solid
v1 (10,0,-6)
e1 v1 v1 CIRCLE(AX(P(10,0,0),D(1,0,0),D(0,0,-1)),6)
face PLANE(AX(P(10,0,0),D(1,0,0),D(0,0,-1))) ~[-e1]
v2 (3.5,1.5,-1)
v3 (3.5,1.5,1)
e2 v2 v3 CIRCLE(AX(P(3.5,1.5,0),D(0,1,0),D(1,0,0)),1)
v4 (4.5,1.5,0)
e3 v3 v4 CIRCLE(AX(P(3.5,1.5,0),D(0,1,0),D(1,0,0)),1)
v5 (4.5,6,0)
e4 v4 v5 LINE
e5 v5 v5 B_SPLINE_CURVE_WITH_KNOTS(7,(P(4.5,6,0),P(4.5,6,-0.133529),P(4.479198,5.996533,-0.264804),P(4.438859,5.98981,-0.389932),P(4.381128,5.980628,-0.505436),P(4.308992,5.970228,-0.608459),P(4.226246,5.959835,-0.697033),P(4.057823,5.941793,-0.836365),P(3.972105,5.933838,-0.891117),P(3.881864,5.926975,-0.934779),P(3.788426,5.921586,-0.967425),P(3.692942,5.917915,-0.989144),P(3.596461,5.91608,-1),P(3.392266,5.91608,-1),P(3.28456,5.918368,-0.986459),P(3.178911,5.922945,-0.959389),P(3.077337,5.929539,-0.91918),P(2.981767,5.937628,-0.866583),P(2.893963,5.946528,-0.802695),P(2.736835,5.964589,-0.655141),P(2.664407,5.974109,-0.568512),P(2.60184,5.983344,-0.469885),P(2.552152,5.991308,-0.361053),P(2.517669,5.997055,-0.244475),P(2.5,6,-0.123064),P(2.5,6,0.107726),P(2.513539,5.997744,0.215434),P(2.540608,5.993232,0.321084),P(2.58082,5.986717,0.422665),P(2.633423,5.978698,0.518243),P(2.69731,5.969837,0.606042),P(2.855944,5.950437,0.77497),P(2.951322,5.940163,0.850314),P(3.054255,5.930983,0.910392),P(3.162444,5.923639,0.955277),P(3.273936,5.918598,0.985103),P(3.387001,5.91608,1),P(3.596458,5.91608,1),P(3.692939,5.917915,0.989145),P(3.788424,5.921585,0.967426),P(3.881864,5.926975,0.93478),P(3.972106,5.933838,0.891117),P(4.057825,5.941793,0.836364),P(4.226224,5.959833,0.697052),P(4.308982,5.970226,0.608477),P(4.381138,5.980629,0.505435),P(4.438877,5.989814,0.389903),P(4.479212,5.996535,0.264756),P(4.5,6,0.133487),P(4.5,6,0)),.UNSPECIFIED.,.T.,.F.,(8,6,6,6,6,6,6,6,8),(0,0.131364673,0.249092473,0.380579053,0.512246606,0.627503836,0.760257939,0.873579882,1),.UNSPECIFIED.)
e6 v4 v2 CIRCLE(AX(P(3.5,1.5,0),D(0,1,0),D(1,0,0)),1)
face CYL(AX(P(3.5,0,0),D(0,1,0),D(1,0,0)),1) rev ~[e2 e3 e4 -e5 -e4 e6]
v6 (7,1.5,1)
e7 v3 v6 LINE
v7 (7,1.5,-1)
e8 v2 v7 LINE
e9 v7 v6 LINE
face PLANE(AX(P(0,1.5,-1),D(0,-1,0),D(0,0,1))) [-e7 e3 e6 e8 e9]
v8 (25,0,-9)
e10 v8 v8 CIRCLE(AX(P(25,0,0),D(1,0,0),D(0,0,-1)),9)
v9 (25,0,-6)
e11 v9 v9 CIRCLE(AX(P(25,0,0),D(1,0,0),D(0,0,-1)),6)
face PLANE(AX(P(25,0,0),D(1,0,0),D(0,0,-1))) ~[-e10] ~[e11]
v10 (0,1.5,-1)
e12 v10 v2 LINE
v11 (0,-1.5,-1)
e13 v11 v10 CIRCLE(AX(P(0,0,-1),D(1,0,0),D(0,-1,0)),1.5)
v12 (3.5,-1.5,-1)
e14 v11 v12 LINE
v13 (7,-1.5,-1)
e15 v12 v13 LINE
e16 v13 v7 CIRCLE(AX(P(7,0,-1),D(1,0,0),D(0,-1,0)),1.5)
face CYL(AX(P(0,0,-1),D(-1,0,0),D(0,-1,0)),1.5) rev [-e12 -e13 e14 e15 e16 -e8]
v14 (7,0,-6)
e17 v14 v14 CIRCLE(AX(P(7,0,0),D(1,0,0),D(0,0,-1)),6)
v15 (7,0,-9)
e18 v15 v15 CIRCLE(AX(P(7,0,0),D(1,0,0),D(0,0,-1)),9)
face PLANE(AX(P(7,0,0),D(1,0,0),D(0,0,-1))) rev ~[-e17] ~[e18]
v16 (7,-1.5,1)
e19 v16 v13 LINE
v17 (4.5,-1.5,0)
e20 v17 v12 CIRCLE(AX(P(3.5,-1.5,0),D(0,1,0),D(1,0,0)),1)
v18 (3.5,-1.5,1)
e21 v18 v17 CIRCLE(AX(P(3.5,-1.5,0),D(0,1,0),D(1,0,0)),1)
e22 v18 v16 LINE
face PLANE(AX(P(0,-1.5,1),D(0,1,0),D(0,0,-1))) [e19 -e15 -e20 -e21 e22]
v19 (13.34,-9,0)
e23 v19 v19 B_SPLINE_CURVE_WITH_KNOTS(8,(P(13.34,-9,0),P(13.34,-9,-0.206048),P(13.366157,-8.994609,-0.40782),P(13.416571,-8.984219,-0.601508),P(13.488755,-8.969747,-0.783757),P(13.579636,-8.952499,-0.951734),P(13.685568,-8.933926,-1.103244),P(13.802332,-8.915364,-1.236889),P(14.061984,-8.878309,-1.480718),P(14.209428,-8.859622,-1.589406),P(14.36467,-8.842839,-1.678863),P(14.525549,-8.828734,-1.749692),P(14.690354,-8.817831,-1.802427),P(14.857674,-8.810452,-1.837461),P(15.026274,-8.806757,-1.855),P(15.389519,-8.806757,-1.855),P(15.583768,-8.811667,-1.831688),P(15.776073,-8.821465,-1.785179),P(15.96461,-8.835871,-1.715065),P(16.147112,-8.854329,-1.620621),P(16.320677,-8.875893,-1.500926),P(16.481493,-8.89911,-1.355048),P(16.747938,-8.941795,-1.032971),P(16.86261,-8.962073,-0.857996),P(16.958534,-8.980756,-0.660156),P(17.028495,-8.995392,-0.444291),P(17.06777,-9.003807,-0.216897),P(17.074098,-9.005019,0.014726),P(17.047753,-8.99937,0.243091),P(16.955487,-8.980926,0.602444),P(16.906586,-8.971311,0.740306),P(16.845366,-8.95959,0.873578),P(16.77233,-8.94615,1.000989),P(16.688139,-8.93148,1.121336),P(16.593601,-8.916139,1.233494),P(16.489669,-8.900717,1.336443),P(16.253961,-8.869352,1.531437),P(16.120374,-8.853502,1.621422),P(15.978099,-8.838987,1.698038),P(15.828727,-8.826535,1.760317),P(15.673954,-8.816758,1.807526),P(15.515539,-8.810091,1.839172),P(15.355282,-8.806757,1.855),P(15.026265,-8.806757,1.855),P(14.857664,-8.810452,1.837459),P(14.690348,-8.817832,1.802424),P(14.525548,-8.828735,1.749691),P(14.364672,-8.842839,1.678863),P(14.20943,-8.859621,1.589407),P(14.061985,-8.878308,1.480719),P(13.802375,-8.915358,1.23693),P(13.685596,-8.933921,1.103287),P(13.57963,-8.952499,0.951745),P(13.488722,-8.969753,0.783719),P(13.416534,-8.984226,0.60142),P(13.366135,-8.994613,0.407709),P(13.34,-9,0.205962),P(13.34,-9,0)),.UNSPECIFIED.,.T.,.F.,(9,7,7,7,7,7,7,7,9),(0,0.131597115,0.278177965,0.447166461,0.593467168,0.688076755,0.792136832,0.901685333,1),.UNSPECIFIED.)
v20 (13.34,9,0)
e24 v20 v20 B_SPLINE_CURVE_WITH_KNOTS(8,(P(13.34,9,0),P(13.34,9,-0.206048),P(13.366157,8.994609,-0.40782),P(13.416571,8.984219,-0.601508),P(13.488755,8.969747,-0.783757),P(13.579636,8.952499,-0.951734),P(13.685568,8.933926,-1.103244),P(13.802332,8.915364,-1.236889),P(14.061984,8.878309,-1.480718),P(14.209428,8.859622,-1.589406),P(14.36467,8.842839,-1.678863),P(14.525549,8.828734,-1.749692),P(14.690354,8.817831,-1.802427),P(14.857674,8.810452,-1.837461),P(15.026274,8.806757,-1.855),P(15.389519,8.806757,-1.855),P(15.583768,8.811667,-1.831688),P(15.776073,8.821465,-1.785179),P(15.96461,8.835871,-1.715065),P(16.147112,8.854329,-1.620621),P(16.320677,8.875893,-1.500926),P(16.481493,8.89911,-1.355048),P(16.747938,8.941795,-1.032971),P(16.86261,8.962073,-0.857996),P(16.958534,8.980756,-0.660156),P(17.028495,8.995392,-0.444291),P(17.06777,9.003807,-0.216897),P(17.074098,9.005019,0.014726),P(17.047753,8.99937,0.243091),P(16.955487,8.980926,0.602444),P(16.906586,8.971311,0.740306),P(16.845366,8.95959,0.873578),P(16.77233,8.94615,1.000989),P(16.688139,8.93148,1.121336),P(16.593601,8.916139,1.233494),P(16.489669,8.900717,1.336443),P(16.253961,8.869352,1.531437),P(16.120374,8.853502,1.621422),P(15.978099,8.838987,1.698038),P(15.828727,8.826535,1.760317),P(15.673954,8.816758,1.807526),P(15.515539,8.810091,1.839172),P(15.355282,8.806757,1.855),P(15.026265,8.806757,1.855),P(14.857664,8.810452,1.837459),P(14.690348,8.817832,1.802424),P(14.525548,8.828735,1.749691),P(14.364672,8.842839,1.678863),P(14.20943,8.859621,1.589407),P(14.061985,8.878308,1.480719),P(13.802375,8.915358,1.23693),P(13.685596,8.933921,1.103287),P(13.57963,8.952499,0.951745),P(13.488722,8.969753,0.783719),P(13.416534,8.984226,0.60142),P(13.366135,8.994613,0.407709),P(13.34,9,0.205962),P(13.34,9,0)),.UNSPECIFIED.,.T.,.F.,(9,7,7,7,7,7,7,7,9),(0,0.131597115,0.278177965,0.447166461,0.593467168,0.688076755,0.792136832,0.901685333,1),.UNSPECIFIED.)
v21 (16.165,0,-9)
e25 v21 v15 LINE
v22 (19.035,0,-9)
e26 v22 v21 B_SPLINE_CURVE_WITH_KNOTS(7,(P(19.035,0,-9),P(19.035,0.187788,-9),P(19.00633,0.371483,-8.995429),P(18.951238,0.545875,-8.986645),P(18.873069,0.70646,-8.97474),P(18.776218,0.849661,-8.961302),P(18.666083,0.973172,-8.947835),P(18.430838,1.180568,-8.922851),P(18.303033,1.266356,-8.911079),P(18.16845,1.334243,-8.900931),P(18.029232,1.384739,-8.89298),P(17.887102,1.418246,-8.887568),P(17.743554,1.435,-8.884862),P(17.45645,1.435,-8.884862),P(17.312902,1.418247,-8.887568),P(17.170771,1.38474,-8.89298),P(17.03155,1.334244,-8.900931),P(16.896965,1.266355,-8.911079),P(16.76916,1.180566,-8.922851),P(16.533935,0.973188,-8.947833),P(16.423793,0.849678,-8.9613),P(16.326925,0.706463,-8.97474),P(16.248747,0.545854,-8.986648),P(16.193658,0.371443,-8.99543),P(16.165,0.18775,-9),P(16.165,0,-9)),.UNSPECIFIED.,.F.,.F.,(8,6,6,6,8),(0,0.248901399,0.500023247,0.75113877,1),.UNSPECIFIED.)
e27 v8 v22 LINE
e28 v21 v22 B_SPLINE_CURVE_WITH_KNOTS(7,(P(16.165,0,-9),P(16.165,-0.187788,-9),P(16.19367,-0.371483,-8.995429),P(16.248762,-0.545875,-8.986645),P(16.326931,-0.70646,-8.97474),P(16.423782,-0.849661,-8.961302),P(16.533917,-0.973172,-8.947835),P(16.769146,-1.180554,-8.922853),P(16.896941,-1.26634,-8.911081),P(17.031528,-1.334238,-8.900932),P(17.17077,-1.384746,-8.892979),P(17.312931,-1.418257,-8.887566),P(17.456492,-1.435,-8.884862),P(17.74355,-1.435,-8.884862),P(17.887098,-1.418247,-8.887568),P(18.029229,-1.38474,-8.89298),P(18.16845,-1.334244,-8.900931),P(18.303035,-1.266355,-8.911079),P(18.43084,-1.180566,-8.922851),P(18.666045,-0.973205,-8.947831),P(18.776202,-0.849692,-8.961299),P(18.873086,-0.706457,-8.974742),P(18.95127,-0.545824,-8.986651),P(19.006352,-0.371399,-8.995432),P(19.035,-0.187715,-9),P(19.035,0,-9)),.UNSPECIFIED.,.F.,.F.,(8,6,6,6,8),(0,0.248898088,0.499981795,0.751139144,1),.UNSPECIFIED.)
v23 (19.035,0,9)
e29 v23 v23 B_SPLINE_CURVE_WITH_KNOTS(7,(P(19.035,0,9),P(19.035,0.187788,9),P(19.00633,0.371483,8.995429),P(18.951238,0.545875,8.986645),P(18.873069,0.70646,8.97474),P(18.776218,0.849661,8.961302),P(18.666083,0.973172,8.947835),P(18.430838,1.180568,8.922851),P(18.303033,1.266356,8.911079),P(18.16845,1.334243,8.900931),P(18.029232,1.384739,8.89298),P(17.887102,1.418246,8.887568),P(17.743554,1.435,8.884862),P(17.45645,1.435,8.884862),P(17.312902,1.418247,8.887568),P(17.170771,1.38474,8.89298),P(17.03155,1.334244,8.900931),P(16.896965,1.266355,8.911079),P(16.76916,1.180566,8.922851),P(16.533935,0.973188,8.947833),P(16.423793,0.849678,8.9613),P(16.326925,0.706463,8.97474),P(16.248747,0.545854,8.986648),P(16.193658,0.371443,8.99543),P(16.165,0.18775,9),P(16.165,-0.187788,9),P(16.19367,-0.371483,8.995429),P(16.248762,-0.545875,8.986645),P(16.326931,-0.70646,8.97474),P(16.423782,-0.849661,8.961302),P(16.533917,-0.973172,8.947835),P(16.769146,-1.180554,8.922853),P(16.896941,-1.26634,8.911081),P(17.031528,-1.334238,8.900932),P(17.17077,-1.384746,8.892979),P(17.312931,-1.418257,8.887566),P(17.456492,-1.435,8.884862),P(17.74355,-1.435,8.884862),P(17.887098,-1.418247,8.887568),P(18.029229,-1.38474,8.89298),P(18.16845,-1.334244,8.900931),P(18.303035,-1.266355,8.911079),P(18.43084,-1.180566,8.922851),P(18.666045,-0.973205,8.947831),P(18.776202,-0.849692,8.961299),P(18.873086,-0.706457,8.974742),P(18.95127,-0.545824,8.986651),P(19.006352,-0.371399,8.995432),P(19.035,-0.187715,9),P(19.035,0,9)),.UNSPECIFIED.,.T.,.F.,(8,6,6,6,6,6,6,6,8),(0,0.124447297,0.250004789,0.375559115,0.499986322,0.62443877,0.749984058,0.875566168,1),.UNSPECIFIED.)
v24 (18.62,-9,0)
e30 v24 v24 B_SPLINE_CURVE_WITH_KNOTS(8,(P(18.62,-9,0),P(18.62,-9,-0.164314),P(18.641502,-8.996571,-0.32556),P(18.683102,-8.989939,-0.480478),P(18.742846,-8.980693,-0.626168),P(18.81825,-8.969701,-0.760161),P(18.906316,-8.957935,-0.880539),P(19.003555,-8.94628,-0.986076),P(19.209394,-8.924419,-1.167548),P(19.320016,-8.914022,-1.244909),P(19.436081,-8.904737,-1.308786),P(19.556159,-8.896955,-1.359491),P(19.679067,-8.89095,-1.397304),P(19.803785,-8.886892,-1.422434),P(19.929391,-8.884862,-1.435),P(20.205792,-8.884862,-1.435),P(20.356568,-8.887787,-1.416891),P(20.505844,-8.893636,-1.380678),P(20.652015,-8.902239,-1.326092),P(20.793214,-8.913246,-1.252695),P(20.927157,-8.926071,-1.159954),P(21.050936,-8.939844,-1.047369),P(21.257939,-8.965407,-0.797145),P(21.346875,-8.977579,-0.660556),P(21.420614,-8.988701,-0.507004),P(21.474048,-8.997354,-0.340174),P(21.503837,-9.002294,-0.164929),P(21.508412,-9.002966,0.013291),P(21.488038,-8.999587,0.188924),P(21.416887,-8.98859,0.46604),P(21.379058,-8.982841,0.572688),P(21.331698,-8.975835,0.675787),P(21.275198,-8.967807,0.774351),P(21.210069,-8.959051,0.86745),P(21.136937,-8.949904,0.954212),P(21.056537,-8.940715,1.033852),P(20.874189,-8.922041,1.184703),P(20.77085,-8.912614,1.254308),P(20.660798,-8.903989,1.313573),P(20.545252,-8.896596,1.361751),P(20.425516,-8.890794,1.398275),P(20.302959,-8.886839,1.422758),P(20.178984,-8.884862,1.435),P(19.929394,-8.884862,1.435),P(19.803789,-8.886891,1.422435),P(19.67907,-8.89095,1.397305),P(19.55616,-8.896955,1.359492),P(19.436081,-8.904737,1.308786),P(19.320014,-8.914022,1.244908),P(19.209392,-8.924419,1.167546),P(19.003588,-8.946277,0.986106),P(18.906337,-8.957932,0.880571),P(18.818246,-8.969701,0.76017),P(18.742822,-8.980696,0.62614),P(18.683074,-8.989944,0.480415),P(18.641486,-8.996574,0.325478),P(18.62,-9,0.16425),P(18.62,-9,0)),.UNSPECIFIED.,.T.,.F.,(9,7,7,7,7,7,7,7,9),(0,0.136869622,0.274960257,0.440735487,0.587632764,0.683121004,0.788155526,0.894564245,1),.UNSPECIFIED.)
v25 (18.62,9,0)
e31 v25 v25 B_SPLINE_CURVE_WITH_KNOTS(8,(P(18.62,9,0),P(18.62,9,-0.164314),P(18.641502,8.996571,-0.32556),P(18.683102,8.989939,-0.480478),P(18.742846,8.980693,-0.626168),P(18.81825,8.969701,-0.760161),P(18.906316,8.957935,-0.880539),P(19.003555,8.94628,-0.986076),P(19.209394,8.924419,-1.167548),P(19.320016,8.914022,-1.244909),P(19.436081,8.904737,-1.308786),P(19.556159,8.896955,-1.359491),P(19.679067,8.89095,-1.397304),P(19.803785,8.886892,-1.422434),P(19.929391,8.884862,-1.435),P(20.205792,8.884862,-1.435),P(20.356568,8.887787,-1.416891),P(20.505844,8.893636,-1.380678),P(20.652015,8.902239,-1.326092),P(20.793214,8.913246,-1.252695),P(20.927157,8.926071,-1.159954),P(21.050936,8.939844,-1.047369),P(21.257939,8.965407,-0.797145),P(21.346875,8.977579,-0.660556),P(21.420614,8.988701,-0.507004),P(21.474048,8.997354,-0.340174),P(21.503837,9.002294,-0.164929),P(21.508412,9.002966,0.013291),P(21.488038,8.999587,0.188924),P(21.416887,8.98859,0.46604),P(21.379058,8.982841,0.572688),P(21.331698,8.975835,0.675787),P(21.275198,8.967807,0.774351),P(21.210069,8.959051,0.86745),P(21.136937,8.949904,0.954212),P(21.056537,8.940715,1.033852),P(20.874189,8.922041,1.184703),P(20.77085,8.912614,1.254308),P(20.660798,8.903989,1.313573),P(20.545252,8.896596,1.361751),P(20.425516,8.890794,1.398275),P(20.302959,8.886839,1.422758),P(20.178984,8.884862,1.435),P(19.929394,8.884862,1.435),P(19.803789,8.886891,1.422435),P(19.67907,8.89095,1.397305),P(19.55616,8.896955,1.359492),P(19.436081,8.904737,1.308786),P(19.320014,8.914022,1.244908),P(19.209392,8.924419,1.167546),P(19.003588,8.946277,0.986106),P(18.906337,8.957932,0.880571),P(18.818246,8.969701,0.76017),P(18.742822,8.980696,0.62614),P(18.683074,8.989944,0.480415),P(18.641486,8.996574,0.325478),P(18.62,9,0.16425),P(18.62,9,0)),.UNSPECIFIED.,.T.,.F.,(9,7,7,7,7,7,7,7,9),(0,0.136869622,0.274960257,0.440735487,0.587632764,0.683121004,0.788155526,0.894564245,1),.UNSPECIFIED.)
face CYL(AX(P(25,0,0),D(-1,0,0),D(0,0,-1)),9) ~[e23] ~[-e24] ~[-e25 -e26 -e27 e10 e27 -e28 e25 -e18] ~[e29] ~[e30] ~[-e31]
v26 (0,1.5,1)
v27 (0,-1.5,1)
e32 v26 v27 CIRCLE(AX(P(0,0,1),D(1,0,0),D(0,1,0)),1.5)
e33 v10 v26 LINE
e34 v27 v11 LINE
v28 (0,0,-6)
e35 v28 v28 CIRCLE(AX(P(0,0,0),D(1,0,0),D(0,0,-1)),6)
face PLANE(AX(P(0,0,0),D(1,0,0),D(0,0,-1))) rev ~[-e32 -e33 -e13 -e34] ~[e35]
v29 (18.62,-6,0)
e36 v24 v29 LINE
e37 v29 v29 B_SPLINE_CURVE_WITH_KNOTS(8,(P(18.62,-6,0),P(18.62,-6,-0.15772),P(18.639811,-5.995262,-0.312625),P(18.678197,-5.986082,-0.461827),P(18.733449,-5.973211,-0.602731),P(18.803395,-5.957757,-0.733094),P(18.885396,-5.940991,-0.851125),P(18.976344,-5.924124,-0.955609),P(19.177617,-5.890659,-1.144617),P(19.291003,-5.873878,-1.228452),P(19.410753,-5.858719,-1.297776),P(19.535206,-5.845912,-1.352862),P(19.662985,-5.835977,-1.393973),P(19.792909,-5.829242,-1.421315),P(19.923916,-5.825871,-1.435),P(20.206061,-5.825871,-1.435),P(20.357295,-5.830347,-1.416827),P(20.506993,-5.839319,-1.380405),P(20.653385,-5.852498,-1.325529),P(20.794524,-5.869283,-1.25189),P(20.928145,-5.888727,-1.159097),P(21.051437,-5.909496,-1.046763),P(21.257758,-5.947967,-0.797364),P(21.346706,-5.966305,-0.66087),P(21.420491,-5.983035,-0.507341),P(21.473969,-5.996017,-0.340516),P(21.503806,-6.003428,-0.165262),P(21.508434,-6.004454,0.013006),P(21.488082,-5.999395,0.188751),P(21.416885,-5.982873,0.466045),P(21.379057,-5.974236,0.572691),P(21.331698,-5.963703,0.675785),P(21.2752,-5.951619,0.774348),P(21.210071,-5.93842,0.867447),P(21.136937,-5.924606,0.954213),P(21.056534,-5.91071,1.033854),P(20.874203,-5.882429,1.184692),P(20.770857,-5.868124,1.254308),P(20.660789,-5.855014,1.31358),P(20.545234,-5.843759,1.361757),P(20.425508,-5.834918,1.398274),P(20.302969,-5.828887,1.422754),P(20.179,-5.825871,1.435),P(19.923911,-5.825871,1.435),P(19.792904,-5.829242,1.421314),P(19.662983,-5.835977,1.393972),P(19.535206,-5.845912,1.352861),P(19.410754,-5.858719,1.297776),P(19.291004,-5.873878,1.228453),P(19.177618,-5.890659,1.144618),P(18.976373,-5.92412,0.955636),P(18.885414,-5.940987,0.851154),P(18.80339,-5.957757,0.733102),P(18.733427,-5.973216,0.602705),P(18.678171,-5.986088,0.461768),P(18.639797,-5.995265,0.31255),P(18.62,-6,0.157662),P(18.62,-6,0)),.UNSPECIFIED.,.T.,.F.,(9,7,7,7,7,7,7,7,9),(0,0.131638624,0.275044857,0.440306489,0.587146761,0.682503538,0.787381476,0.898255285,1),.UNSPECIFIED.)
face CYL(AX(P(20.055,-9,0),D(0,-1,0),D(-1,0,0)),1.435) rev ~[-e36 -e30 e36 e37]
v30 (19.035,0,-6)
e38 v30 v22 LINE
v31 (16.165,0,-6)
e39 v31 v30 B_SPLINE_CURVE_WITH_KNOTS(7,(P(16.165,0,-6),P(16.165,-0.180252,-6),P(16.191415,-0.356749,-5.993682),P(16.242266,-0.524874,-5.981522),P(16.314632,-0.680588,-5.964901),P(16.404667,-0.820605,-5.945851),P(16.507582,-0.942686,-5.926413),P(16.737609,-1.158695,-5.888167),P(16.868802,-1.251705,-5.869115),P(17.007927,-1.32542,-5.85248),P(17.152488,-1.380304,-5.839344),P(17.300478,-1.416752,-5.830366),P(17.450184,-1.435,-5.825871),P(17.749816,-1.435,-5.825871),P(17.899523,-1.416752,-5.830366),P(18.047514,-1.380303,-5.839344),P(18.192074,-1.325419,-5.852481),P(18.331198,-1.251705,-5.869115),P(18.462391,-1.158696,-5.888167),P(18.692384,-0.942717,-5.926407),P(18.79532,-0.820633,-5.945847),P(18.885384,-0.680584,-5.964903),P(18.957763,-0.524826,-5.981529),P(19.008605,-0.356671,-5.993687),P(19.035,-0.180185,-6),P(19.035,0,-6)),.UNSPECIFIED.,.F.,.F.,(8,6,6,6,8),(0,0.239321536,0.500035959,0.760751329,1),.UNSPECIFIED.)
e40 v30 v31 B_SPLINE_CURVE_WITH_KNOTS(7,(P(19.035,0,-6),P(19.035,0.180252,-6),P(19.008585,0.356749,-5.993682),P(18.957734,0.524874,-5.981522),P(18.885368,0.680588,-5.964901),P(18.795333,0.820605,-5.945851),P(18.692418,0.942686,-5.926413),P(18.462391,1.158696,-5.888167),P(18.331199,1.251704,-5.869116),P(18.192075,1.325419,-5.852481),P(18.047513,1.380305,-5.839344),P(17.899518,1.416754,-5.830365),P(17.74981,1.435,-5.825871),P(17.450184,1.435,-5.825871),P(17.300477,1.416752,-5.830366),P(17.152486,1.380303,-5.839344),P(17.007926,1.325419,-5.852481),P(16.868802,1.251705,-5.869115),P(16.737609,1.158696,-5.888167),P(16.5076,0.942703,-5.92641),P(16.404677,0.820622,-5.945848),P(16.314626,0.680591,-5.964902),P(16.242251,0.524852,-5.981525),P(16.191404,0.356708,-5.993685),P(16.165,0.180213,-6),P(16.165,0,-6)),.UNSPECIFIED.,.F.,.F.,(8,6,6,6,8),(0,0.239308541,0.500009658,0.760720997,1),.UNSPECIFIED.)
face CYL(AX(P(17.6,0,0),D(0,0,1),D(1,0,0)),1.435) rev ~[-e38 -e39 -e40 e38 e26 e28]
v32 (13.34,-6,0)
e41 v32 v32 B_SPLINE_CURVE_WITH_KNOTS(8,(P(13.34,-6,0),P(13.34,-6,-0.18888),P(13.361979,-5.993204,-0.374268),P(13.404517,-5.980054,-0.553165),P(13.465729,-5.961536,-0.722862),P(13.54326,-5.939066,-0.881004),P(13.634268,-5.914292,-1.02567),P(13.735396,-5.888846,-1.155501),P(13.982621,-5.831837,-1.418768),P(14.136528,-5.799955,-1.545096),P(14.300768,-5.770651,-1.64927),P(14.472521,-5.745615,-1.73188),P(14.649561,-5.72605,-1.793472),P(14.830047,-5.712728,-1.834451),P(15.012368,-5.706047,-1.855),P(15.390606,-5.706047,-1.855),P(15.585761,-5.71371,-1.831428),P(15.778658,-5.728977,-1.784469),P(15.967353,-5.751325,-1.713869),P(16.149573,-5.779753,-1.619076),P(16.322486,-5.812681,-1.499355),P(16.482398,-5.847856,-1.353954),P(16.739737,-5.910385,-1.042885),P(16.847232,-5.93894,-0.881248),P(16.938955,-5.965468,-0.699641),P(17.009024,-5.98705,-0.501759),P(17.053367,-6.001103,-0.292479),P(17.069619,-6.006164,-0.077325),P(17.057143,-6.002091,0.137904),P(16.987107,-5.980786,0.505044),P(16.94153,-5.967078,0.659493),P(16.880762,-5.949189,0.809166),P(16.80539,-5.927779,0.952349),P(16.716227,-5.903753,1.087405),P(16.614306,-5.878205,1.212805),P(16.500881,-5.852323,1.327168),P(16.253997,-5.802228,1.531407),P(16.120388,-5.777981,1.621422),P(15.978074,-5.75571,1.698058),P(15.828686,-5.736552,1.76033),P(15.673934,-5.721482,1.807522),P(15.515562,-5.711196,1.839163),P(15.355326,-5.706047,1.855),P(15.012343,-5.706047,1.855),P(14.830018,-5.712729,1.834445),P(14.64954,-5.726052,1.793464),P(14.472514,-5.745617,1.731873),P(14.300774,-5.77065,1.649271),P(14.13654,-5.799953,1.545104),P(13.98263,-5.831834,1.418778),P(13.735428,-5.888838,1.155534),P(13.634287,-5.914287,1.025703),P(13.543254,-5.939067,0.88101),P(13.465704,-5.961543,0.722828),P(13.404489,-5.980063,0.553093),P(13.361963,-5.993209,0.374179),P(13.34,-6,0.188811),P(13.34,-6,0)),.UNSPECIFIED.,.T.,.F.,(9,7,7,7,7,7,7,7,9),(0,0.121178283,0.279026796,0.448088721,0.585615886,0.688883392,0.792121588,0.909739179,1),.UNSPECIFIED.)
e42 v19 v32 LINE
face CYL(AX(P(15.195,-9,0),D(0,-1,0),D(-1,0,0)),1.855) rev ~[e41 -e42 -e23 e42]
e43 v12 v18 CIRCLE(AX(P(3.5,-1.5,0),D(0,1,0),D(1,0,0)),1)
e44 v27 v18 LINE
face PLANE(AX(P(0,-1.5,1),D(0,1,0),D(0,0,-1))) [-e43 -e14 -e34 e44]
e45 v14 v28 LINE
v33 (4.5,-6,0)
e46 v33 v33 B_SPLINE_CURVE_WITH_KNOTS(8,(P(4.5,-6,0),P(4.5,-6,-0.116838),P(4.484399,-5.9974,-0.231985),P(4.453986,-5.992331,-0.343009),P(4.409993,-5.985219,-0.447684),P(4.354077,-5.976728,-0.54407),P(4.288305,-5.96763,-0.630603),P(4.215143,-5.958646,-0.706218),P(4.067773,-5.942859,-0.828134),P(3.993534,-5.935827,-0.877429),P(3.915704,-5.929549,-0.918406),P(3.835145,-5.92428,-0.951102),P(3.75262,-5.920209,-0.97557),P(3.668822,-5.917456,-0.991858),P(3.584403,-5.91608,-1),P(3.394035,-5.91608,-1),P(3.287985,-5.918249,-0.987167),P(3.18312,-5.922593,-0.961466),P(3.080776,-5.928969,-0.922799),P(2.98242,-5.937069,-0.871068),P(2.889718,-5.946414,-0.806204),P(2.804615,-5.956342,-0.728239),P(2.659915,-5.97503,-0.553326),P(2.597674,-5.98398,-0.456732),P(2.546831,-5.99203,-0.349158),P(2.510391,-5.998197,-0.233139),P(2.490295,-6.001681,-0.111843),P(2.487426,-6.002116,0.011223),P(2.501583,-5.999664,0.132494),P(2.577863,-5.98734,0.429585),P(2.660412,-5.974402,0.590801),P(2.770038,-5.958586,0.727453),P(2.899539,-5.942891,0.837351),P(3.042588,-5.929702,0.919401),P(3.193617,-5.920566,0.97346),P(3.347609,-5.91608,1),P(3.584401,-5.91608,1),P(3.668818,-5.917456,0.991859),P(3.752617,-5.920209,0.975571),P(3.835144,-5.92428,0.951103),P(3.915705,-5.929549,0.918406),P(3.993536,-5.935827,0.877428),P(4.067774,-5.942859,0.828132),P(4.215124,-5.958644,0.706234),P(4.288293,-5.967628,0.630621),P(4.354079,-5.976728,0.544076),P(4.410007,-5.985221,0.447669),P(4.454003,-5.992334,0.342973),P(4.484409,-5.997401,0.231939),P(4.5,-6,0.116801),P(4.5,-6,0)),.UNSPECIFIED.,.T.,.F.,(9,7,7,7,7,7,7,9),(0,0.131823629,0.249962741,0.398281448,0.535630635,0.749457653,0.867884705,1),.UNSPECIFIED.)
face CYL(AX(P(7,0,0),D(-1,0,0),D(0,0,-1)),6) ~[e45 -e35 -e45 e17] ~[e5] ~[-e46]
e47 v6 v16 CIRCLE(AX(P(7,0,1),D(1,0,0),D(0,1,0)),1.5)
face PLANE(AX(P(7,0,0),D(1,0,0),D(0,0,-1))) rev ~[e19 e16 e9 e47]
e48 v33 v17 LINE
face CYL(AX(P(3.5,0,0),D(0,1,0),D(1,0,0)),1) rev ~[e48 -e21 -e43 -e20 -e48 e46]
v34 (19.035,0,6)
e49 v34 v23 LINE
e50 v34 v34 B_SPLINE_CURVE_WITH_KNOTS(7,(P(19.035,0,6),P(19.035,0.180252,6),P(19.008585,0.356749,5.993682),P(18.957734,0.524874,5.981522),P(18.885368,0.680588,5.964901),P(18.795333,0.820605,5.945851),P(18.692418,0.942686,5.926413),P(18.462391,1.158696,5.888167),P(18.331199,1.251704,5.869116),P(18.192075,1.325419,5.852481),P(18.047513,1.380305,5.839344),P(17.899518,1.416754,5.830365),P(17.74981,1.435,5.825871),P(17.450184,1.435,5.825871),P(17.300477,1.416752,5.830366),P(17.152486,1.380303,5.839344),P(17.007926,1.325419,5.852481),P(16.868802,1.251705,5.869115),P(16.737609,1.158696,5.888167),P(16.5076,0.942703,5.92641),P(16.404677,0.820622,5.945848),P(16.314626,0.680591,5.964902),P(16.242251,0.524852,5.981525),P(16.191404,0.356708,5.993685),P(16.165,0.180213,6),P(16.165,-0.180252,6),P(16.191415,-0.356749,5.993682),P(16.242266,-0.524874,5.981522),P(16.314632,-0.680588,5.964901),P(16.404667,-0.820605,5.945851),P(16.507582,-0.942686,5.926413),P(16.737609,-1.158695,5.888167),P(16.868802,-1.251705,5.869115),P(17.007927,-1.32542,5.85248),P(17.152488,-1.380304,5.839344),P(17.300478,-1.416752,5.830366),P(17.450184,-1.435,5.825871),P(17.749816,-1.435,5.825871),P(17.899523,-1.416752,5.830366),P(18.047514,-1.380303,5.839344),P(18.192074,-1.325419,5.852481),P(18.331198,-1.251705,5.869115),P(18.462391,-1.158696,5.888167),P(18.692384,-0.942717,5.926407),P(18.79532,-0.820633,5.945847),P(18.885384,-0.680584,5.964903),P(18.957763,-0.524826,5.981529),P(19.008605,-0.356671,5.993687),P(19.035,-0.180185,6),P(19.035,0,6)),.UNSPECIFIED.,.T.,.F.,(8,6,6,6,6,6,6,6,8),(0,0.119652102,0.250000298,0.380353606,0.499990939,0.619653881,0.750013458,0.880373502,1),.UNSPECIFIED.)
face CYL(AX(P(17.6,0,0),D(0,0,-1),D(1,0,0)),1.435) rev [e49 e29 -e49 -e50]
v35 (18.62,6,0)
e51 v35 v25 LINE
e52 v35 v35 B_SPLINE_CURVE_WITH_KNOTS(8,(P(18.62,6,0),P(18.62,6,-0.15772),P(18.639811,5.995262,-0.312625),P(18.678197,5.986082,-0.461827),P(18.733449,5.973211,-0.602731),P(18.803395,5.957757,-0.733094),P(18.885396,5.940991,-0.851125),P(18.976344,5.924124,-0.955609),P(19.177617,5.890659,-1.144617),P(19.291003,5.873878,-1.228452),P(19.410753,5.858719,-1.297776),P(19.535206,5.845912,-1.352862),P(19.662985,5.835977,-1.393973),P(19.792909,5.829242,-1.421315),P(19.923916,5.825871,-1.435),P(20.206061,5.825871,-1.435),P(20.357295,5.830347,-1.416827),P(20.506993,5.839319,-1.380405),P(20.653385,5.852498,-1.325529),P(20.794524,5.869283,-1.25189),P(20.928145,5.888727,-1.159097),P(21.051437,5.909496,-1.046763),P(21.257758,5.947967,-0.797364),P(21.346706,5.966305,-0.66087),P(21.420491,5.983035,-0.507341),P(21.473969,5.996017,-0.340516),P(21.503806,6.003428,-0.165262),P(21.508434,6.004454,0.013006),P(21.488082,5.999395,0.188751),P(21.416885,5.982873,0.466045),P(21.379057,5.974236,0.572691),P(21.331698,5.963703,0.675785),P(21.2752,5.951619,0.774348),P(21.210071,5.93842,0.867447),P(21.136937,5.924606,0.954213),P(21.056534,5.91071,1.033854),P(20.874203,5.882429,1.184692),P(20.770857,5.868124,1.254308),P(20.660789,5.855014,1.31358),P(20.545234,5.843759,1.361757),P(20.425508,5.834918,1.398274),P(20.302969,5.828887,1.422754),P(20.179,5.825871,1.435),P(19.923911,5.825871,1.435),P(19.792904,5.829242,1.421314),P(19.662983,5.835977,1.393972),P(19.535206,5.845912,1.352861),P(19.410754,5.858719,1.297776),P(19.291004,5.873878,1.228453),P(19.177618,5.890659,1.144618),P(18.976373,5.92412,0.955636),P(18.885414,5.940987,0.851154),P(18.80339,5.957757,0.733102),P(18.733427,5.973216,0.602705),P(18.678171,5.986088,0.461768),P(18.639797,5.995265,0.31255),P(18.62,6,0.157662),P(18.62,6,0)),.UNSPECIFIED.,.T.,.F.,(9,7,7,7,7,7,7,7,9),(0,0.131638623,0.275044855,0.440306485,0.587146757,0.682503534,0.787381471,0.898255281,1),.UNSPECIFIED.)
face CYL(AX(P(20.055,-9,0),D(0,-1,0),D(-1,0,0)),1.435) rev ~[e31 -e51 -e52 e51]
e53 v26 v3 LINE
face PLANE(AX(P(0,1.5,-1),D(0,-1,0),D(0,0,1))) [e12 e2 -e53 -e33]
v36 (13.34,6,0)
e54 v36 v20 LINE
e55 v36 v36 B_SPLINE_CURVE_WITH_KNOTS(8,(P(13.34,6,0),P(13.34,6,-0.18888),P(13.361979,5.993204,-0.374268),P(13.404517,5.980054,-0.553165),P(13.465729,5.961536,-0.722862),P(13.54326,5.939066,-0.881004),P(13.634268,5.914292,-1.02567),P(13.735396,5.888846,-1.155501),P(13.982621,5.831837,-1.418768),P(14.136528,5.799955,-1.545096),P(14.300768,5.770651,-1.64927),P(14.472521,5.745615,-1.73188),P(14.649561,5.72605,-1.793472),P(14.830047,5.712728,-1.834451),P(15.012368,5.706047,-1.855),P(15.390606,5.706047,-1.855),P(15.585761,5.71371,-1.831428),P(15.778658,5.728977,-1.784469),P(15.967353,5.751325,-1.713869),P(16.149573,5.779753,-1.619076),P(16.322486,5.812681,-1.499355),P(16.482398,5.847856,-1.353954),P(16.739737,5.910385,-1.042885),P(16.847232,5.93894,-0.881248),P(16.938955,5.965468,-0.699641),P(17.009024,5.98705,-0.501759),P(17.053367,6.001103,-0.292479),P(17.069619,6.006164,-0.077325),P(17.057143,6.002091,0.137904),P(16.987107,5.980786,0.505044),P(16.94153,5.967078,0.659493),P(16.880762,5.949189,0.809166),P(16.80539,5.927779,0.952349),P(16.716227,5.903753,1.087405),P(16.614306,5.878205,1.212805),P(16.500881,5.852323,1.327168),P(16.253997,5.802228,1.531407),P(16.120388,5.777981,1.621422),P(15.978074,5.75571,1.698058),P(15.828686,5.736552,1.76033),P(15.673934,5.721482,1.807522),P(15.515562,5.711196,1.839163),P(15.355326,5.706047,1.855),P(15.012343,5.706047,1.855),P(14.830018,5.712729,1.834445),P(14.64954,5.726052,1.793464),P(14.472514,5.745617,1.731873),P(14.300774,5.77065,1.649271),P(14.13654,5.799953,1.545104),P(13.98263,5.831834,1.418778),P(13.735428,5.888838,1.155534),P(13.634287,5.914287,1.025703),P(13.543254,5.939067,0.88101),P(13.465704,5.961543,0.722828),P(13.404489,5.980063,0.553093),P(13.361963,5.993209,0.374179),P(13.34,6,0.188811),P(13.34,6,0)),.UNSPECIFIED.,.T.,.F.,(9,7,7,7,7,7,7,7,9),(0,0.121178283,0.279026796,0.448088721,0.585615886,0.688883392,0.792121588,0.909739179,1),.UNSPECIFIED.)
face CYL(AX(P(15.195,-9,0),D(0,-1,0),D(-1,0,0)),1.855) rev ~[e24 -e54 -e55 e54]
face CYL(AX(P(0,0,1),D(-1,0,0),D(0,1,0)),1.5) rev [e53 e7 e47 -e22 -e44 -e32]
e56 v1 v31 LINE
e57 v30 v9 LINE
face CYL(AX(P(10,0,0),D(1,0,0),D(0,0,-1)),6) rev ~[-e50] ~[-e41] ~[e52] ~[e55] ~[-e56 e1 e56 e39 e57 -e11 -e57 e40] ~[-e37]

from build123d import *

# Parameters (mm, degrees)
CORTAR_EXTRUIR1_DEPTH      = 7
CROQUIS3_R                 = 1
CORTAR_EXTRUIR2_DEPTH      = 7
CROQUIS4_R                 = 1.855
CROQUIS4_R_2               = 1.435
CORTAR_EXTRUIR3_DEPTH      = 28
CROQUIS5_R                 = 1.435
CORTAR_EXTRUIR4_DEPTH      = 10.0000001
CORTAR_EXTRUIR4_DEPTH_BACK = 10.0000001


with BuildPart() as part:
    # Croquis1 → Revolución1 (revolve)
    with BuildSketch(Plane(origin=(0, 0, 0), x_dir=(1, 0, 0), z_dir=(0, 1, 0))):
        Polygon((10, 0), (10, 6), (25, 6), (25, 9), (7, 9), (7, 6), (0, 6), (0, 0), align=None)
    revolve(axis=Axis((-57.080066138, 0, 0), (1, 0, 0)))

    # Croquis2 → Cortar-Extruir1 (cut)
    with BuildSketch(Plane.ZY):
        with BuildLine():
            Line((-1, 1.5), (1, 1.5))
            ThreePointArc((1, 1.5), (2.5, 0), (1, -1.5))
            Line((1, -1.5), (-1, -1.5))
            ThreePointArc((-1, -1.5), (-2.5, 0), (-1, 1.5))
        make_face()
    extrude(amount=-CORTAR_EXTRUIR1_DEPTH, mode=Mode.SUBTRACT)

    # Croquis3 → Cortar-Extruir2 (cut, symmetric)
    with BuildSketch(Plane(origin=(0, 0, 0), x_dir=(1, 0, 0), z_dir=(0, 1, 0))):
        with Locations((3.5, 0)):
            Circle(CROQUIS3_R)
    extrude(amount=CORTAR_EXTRUIR2_DEPTH, both=True, mode=Mode.SUBTRACT)

    # Croquis4 → Cortar-Extruir3 (cut)
    with BuildSketch(Plane(origin=(0, -9, 0), x_dir=(-1, 0, 0), z_dir=(0, -1, 0))):
        with Locations((-15.195, 0)):
            Circle(CROQUIS4_R)
        with Locations((-20.055, 0)):
            Circle(CROQUIS4_R_2)
    extrude(amount=-CORTAR_EXTRUIR3_DEPTH, mode=Mode.SUBTRACT)

    # Croquis5 → Cortar-Extruir4 (cut, two sides)
    with BuildSketch(Plane.XY) as cortar_extruir4_sk:
        with Locations((17.6, 0)):
            Circle(CROQUIS5_R)
    extrude(amount=CORTAR_EXTRUIR4_DEPTH, mode=Mode.SUBTRACT)
    extrude(cortar_extruir4_sk.sketch, amount=-CORTAR_EXTRUIR4_DEPTH_BACK, mode=Mode.SUBTRACT)


solid = part.part
